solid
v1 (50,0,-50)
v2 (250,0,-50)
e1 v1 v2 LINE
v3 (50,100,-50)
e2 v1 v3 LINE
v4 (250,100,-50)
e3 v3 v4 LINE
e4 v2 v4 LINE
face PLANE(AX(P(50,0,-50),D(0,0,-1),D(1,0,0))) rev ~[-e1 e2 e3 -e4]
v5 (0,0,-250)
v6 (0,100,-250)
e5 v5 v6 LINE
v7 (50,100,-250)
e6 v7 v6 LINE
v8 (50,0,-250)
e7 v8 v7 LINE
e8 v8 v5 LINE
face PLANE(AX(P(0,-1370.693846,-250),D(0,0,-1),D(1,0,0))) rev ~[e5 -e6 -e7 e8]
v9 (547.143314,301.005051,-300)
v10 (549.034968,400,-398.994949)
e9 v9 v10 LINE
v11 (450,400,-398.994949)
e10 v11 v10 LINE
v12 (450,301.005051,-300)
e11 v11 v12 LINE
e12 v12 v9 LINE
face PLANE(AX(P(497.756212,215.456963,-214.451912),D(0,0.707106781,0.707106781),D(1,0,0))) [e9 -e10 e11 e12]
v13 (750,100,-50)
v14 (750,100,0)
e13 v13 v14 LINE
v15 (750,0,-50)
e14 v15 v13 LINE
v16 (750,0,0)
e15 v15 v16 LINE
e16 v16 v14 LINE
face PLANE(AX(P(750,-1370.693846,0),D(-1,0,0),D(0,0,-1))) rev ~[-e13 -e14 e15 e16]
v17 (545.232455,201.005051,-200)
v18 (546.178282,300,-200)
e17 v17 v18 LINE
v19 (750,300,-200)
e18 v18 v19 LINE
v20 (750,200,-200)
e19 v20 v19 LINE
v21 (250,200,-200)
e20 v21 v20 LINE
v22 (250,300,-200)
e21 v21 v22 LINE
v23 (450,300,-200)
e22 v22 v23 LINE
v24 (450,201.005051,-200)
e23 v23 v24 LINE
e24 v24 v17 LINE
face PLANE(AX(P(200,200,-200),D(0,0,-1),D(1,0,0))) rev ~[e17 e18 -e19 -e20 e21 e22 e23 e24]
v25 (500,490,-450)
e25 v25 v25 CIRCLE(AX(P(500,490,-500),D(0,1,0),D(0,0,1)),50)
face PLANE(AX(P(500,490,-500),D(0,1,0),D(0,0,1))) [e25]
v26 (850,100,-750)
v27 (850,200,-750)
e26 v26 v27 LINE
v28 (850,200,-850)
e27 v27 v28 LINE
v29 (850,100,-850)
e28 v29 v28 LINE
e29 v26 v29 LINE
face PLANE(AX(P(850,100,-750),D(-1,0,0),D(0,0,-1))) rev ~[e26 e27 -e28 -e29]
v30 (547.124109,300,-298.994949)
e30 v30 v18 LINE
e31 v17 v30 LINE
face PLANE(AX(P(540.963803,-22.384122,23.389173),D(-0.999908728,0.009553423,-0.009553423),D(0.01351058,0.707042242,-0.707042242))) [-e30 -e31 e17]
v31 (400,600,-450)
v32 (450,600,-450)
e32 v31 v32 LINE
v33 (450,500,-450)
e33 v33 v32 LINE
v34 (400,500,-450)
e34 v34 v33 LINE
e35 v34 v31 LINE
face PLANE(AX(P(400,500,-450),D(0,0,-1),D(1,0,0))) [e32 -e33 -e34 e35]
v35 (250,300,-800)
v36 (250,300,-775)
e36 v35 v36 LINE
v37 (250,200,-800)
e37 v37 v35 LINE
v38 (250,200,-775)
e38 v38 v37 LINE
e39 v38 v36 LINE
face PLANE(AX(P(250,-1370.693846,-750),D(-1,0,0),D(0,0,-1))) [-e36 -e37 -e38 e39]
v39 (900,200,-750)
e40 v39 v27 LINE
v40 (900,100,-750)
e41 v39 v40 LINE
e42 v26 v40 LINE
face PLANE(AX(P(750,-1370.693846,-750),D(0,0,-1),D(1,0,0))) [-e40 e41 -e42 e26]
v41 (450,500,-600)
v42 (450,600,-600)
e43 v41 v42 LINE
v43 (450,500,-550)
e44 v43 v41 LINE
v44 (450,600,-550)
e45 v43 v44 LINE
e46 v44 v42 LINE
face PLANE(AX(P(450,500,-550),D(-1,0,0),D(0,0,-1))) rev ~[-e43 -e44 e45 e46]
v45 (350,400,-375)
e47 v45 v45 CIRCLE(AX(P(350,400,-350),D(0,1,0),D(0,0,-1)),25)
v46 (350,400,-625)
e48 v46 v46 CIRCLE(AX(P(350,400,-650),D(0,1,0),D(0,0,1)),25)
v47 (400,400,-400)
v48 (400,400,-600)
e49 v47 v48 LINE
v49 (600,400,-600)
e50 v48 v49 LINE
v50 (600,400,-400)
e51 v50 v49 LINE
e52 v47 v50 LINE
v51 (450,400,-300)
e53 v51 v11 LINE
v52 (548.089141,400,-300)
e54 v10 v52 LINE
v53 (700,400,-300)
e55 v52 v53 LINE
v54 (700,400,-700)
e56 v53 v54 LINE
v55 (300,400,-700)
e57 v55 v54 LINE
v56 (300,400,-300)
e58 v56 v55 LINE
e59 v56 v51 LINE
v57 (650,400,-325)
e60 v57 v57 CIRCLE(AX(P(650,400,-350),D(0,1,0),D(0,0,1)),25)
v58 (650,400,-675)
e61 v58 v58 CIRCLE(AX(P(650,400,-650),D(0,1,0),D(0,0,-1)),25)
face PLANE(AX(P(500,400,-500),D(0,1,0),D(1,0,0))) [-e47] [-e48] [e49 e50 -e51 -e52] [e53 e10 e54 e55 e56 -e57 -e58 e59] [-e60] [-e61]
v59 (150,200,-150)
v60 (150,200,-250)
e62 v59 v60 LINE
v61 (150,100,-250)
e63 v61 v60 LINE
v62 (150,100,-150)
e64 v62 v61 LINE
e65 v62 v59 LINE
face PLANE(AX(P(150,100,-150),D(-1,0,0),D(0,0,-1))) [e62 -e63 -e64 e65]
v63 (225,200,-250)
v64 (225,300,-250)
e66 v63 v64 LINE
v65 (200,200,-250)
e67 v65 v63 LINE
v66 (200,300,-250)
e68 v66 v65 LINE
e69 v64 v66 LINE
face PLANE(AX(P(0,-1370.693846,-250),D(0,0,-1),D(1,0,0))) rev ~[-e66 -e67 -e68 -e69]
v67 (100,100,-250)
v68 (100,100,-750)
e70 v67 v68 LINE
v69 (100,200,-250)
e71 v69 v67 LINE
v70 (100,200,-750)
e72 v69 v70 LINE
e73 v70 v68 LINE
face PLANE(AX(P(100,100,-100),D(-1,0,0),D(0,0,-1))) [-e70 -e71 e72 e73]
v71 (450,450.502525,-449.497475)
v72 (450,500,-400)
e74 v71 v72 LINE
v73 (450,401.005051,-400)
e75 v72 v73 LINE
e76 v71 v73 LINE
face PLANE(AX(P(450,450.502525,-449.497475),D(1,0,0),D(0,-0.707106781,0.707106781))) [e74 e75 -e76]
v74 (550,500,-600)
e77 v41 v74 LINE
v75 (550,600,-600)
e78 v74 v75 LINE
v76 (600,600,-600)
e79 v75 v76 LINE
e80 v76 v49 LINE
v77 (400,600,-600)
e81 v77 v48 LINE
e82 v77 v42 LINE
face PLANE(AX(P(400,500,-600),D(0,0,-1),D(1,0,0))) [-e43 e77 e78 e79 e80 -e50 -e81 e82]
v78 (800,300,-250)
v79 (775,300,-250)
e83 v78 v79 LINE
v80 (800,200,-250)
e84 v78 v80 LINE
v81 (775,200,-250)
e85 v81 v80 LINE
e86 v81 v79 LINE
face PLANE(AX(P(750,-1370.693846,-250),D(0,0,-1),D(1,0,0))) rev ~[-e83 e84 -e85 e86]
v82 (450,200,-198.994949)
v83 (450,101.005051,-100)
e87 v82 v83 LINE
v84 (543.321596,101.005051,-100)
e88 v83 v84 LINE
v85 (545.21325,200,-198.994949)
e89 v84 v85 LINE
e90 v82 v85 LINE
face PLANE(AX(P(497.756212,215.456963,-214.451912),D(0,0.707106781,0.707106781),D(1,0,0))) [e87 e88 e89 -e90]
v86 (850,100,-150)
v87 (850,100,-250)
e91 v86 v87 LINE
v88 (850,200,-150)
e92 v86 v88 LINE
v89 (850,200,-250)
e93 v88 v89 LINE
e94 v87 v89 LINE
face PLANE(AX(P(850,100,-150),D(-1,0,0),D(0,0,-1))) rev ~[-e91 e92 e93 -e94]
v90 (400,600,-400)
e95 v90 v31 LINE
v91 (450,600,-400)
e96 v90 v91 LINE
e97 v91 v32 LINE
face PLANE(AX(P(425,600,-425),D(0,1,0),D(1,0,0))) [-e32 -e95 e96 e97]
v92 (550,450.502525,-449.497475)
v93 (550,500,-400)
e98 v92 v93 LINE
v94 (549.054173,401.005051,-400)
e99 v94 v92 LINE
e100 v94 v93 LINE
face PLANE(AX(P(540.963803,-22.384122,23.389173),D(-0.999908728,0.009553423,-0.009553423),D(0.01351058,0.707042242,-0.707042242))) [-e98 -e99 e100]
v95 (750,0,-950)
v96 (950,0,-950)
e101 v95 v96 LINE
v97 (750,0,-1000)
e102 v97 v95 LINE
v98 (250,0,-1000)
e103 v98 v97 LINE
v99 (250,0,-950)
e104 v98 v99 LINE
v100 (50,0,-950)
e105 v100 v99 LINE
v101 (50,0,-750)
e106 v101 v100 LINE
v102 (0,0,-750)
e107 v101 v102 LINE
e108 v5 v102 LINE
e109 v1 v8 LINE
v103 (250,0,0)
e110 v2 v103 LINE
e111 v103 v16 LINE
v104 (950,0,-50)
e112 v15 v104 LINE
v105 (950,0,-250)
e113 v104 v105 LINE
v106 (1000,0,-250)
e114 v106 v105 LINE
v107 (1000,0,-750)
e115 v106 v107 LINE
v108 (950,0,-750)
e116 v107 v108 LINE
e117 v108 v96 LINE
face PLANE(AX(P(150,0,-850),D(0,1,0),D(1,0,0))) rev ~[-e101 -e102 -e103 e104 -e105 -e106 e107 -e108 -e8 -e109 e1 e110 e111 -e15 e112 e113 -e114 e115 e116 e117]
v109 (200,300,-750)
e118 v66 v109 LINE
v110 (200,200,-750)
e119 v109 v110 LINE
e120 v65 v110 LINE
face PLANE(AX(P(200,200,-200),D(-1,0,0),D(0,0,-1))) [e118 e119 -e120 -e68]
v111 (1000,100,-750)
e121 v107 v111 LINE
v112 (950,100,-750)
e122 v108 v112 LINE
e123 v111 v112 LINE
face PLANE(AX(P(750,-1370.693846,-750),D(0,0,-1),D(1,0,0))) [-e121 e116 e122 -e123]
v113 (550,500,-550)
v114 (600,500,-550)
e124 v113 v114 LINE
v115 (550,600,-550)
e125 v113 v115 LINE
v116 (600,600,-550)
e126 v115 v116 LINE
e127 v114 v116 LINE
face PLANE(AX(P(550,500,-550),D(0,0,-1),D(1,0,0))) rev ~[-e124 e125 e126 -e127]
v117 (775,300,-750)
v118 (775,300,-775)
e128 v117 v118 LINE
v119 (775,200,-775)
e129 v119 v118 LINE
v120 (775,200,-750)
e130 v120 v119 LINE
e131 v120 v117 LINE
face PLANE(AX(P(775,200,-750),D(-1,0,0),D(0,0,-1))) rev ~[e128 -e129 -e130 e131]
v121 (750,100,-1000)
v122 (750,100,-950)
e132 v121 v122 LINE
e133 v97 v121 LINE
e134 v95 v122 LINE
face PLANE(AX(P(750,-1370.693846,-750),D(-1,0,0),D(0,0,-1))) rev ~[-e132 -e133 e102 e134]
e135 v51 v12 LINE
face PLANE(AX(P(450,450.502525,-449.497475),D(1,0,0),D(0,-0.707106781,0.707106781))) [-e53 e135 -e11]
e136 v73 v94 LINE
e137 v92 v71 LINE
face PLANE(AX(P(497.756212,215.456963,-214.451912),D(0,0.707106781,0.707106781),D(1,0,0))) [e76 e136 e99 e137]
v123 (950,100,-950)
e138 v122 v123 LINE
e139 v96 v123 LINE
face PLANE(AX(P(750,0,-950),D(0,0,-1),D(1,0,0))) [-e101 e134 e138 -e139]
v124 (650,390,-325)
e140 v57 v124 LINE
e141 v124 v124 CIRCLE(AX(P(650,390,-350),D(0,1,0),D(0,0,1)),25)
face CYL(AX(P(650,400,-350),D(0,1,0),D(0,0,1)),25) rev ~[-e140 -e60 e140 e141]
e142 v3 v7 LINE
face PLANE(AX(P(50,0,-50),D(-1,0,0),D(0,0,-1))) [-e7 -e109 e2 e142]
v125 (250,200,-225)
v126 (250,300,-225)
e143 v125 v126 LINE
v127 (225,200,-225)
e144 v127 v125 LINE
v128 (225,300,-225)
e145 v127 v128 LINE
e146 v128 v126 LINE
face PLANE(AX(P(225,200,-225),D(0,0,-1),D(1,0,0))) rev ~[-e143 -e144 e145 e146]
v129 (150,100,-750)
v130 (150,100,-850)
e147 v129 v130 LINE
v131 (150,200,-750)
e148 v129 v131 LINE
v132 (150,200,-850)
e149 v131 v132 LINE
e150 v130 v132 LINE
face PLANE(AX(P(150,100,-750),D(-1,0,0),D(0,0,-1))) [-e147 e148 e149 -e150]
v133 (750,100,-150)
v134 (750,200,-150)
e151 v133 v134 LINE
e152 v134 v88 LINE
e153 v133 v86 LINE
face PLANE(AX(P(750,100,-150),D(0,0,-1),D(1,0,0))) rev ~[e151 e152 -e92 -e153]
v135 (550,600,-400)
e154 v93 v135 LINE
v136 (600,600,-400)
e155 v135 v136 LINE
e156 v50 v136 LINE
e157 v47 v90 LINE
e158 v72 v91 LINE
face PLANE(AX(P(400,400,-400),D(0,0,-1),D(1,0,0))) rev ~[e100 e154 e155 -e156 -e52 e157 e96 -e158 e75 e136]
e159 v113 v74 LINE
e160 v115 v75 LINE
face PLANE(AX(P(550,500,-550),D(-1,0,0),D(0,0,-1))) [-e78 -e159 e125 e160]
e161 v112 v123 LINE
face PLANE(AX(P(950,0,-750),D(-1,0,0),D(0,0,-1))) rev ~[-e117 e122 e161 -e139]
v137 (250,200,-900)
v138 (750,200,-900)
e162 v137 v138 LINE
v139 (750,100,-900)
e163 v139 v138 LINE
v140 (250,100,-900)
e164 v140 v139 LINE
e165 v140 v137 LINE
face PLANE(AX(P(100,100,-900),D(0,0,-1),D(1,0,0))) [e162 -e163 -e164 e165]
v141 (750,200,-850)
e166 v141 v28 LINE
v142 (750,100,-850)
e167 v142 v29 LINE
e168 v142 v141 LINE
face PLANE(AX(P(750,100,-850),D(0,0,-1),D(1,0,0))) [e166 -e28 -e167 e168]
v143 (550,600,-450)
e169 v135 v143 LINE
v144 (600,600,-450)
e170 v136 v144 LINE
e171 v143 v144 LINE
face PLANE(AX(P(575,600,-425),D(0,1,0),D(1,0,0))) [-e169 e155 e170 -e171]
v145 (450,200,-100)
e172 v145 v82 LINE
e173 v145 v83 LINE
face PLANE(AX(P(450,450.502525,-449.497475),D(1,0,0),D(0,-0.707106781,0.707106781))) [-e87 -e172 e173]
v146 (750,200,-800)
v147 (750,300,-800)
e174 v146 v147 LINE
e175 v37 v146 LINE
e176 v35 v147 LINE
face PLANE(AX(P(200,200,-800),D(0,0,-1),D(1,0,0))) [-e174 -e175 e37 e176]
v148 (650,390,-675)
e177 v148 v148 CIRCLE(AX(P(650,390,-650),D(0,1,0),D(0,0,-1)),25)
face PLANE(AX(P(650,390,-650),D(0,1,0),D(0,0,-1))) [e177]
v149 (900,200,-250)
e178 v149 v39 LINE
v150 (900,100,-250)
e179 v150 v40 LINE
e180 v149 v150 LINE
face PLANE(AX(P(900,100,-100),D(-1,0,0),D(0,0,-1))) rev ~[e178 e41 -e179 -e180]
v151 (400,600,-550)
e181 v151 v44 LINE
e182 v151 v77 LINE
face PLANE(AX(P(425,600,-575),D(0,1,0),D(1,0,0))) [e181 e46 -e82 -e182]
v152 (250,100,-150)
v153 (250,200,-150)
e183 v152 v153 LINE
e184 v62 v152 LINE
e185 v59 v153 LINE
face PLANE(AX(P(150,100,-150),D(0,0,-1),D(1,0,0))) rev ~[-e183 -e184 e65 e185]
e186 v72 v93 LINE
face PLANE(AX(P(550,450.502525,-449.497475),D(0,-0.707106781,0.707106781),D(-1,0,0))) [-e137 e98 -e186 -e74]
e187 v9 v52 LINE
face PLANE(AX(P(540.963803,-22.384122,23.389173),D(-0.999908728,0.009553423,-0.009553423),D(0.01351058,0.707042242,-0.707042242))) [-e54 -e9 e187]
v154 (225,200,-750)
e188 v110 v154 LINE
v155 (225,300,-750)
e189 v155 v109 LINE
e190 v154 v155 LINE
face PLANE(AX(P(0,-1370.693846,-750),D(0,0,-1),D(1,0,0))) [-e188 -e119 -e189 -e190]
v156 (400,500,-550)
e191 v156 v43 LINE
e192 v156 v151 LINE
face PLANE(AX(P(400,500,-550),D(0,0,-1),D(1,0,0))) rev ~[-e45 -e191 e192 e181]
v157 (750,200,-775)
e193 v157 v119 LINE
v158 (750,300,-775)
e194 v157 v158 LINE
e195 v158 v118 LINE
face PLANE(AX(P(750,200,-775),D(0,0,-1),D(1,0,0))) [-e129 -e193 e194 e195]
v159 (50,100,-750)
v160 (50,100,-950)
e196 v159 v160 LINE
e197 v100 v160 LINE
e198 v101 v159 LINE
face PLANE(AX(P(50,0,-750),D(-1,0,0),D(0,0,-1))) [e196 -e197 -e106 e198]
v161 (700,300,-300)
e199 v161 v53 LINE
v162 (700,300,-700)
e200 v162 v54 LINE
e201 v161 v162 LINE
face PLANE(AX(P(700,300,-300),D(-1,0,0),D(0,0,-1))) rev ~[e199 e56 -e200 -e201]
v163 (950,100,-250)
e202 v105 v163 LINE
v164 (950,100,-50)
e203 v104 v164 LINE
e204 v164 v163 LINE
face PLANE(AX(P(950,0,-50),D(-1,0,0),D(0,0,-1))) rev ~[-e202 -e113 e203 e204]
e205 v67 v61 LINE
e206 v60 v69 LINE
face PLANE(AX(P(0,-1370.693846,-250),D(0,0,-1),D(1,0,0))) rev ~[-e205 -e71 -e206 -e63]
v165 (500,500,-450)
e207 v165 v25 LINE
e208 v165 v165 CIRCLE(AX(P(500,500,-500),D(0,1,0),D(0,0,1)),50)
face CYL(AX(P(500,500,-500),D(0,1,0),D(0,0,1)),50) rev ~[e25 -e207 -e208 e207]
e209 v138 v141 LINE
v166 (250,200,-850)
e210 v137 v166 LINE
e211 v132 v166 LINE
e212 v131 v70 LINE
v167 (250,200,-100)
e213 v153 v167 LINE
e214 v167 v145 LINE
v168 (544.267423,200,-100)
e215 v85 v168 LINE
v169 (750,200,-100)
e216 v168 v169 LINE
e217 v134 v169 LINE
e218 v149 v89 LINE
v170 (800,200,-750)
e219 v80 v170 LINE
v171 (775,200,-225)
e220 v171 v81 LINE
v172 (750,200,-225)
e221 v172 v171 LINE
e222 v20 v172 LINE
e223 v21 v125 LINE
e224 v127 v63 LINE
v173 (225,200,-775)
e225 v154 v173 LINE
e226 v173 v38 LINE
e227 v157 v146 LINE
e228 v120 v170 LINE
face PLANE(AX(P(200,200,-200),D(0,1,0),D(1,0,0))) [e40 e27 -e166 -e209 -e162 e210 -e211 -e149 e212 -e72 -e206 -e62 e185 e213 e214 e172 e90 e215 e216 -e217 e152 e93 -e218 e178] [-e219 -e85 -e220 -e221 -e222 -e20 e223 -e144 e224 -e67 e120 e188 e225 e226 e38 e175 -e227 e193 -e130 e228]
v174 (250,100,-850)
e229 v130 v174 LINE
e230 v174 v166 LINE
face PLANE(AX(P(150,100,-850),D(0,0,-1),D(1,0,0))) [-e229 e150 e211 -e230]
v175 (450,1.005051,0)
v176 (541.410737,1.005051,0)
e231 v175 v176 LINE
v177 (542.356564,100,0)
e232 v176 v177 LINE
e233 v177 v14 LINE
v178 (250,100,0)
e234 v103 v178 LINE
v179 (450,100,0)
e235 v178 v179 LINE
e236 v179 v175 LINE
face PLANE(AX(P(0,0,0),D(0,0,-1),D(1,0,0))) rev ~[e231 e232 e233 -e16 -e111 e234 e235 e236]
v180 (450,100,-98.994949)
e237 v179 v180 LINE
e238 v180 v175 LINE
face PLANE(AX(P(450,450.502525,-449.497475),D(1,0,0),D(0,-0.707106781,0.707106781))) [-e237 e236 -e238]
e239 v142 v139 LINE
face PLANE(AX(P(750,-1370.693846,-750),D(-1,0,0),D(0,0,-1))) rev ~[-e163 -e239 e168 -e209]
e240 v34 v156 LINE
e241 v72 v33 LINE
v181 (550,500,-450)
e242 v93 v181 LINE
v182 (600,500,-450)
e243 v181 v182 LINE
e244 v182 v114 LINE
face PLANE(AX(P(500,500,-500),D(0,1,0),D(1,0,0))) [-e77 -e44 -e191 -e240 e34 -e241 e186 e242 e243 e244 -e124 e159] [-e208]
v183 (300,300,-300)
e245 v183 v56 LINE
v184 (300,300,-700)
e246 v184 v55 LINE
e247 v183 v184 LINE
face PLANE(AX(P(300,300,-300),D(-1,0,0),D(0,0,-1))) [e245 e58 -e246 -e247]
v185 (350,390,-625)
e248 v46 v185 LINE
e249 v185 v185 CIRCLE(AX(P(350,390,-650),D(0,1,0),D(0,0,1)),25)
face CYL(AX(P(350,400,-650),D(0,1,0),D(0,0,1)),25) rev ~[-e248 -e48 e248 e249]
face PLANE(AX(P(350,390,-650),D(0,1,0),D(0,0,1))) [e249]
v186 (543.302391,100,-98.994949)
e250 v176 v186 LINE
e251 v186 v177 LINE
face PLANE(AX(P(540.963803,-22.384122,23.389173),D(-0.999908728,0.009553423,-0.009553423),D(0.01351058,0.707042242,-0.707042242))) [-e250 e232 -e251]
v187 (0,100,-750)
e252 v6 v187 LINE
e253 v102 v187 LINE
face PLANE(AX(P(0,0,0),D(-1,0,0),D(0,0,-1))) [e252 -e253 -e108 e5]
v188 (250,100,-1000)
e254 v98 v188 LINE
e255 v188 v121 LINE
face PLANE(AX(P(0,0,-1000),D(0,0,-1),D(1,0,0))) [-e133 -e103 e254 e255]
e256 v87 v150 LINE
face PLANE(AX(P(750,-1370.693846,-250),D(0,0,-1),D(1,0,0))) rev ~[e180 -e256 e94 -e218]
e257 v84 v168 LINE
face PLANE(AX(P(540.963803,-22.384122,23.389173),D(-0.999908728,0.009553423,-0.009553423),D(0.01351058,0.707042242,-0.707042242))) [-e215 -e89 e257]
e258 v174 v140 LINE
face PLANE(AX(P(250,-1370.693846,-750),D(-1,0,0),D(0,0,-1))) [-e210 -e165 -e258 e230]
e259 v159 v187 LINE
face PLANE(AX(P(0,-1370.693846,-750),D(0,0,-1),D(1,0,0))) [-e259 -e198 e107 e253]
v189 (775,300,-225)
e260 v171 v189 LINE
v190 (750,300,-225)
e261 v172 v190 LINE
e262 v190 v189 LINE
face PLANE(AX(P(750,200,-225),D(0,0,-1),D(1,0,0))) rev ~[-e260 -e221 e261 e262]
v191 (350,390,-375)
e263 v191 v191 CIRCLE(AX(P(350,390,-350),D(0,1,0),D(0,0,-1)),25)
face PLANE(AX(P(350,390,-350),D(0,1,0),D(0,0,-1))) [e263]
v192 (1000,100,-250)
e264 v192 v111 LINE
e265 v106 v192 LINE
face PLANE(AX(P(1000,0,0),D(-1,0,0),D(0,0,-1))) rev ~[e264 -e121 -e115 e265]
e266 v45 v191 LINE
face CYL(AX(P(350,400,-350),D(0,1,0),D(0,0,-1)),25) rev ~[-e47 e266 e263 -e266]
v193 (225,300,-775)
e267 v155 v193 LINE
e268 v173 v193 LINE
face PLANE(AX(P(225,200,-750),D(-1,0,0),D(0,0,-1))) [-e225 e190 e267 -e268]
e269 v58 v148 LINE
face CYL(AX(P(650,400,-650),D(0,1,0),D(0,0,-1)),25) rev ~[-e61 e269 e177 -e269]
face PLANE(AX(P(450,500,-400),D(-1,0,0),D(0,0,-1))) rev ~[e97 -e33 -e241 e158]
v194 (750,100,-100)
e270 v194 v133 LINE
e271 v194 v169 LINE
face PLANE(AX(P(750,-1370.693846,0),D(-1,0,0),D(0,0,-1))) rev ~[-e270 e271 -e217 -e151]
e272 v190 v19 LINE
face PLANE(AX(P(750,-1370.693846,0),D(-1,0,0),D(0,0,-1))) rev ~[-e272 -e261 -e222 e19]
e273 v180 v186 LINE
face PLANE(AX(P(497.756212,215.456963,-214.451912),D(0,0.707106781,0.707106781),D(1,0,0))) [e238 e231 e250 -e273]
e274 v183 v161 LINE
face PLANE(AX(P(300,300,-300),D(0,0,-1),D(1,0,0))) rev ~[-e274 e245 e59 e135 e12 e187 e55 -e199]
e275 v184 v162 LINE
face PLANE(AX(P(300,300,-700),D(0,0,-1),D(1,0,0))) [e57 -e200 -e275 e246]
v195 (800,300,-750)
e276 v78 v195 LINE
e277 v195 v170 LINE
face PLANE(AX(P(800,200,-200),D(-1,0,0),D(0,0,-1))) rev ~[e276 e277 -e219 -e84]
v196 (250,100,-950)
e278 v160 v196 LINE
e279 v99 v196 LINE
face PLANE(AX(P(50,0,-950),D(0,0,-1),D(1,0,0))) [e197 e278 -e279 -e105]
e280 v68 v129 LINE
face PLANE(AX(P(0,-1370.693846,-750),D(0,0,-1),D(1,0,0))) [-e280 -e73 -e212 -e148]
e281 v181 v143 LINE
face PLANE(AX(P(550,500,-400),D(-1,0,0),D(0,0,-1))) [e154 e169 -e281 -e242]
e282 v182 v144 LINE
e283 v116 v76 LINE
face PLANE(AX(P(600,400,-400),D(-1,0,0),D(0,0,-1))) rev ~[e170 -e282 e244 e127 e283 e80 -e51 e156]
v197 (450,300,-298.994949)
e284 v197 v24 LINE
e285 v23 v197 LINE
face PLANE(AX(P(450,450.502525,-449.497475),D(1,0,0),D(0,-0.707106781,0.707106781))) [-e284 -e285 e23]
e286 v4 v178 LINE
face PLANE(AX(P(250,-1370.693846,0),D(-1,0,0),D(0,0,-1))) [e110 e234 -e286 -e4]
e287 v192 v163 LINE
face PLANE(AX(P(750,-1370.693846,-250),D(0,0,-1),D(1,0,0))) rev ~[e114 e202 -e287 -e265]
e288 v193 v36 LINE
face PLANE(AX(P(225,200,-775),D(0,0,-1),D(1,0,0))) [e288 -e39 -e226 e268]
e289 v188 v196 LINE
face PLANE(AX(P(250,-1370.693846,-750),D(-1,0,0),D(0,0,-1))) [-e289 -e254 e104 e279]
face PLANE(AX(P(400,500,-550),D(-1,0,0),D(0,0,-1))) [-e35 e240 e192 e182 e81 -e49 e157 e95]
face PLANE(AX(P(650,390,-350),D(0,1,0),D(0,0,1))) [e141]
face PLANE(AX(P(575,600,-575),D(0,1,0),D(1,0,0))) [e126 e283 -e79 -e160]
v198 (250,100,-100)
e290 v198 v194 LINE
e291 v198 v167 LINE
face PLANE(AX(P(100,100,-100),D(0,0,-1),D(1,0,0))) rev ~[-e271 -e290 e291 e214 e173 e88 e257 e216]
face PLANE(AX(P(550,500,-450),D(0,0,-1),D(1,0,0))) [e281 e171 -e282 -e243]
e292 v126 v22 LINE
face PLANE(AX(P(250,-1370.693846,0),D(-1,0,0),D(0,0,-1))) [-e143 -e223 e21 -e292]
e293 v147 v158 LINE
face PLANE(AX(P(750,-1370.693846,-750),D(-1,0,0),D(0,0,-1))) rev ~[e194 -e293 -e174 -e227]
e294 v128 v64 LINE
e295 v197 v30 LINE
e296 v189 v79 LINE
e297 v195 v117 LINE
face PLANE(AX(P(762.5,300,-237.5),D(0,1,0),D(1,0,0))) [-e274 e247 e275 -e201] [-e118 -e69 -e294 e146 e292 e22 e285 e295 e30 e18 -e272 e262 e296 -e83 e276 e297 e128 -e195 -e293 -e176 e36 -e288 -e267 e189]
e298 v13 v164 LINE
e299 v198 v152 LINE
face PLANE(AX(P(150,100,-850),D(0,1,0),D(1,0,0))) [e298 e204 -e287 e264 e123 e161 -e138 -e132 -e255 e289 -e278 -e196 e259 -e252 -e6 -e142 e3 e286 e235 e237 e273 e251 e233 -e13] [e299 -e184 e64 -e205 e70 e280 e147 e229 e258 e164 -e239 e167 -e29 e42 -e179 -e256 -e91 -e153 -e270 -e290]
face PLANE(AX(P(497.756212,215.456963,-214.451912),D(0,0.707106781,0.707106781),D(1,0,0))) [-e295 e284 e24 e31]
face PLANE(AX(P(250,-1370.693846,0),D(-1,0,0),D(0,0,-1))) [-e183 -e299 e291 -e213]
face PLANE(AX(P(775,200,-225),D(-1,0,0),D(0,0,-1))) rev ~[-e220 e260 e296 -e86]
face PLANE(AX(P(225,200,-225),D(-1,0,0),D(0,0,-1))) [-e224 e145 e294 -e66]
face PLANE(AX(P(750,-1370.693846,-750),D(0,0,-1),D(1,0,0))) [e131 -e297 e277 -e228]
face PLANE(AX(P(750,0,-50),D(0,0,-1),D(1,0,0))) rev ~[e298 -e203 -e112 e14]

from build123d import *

# Parameters (mm, degrees)
SKETCH2_W               = 1000
SKETCH2_H               = 1000
BOSS_EXTRUDE1_DEPTH     = 100
SKETCH3_W               = 800
SKETCH3_H               = 800
BOSS_EXTRUDE2_DEPTH     = 100
SKETCH4_W               = 600
SKETCH4_H               = 600
BOSS_EXTRUDE3_DEPTH     = 100
SKETCH5_W               = 400
SKETCH5_H               = 400
BOSS_EXTRUDE4_DEPTH     = 100
SKETCH6_W               = 200
SKETCH6_H               = 200
BOSS_EXTRUDE5_DEPTH     = 100
CUT_EXTRUDE2_DEPTH      = 1470.69384567
CUT_EXTRUDE2_DEPTH_BACK = 1470.69384567
SKETCH8_W               = 250
SKETCH8_H               = 250
CUT_EXTRUDE3_DEPTH      = 1519.222645069
CUT_EXTRUDE3_DEPTH_BACK = 70
SKETCH17_W              = 200
SKETCH17_H              = 200
BOSS_EXTRUDE6_DEPTH     = 100
SKETCH18_W              = 100
SKETCH18_H              = 100
BOSS_EXTRUDE7_DEPTH     = 100
SKETCH19_W              = 25
SKETCH19_H              = 25
BOSS_EXTRUDE8_DEPTH     = 100
SKETCH20_W              = 50
SKETCH20_H              = 50
BOSS_EXTRUDE9_DEPTH     = 100
SKETCH21_R              = 50
CUT_EXTRUDE4_DEPTH      = 10
SKETCH22_R              = 25
CUT_EXTRUDE5_DEPTH      = 10


with BuildPart() as part:
    # Sketch2 → Boss-Extrude1 (new body)
    with BuildSketch(Plane(origin=(0, 0, 0), x_dir=(1, 0, 0), z_dir=(0, 1, 0))):
        with Locations((500, 500)):
            Rectangle(SKETCH2_W, SKETCH2_H)
    extrude(amount=BOSS_EXTRUDE1_DEPTH)

    # Sketch3 → Boss-Extrude2 (add)
    with BuildSketch(Plane(origin=(0, 100, 0), x_dir=(1, 0, 0), z_dir=(0, 1, 0))):
        with Locations((500, 500)):
            Rectangle(SKETCH3_W, SKETCH3_H)
    extrude(amount=BOSS_EXTRUDE2_DEPTH)

    # Sketch4 → Boss-Extrude3 (add)
    with BuildSketch(Plane(origin=(0, 200, 0), x_dir=(1, 0, 0), z_dir=(0, 1, 0))):
        with Locations((500, 500)):
            Rectangle(SKETCH4_W, SKETCH4_H)
    extrude(amount=BOSS_EXTRUDE3_DEPTH)

    # Sketch5 → Boss-Extrude4 (add)
    with BuildSketch(Plane(origin=(0, 300, 0), x_dir=(1, 0, 0), z_dir=(0, 1, 0))):
        with Locations((500, 500)):
            Rectangle(SKETCH5_W, SKETCH5_H)
    extrude(amount=BOSS_EXTRUDE4_DEPTH)

    # Sketch6 → Boss-Extrude5 (add)
    with BuildSketch(Plane(origin=(0, 400, 0), x_dir=(1, 0, 0), z_dir=(0, 1, 0))):
        with Locations((500, 500)):
            Rectangle(SKETCH6_W, SKETCH6_H)
    extrude(amount=BOSS_EXTRUDE5_DEPTH)

    # Sketch8 → Cut-Extrude2 (cut, two sides: drawn at the far end of the back side and taken through both)
    with BuildSketch(Plane(origin=(0, 100, 0), x_dir=(1, 0, 0), z_dir=(0, 1, 0)).offset(-CUT_EXTRUDE2_DEPTH_BACK)):
        with Locations((125, 125)):
            Rectangle(SKETCH8_W, SKETCH8_H)
        with Locations((875, 125)):
            Rectangle(SKETCH8_W, SKETCH8_H)
        with Locations((875, 875)):
            Rectangle(SKETCH8_W, SKETCH8_H)
        with Locations((125, 875)):
            Rectangle(SKETCH8_W, SKETCH8_H)
    extrude(amount=CUT_EXTRUDE2_DEPTH + CUT_EXTRUDE2_DEPTH_BACK, mode=Mode.SUBTRACT)

    # Sketch16 → Cut-Extrude3 (cut, two sides: drawn at the far end of the back side and taken through both)
    with BuildSketch(Plane(origin=(0, 50, 50), x_dir=(1, 0, 0), z_dir=(0, 0.7071067811865477, 0.7071067811865475)).offset(-CUT_EXTRUDE3_DEPTH_BACK)):
        Polygon((450, 636.396103068), (450, -32.366607249), (540.963803132, -32.366607249), (550, 636.396103068), align=None)
    extrude(amount=CUT_EXTRUDE3_DEPTH + CUT_EXTRUDE3_DEPTH_BACK, mode=Mode.SUBTRACT)

    # Sketch17 → Boss-Extrude6 (add)
    with BuildSketch(Plane(origin=(0, 0, 0), x_dir=(1, 0, 0), z_dir=(0, 1, 0))):
        with Locations((150, 850)):
            Rectangle(SKETCH17_W, SKETCH17_H)
        with Locations((850, 850)):
            Rectangle(SKETCH17_W, SKETCH17_H)
        with Locations((850, 150)):
            Rectangle(SKETCH17_W, SKETCH17_H)
        with Locations((150, 150)):
            Rectangle(SKETCH17_W, SKETCH17_H)
    extrude(amount=BOSS_EXTRUDE6_DEPTH)

    # Sketch18 → Boss-Extrude7 (add)
    with BuildSketch(Plane(origin=(0, 100, 0), x_dir=(1, 0, 0), z_dir=(0, 1, 0))):
        with Locations((200, 200)):
            Rectangle(SKETCH18_W, SKETCH18_H)
        with Locations((800, 200)):
            Rectangle(SKETCH18_W, SKETCH18_H)
        with Locations((800, 800)):
            Rectangle(SKETCH18_W, SKETCH18_H)
        with Locations((200, 800)):
            Rectangle(SKETCH18_W, SKETCH18_H)
    extrude(amount=BOSS_EXTRUDE7_DEPTH)

    # Sketch19 → Boss-Extrude8 (add)
    with BuildSketch(Plane(origin=(0, 200, 0), x_dir=(1, 0, 0), z_dir=(0, 1, 0))):
        with Locations((762.5, 237.5)):
            Rectangle(SKETCH19_W, SKETCH19_H)
        with Locations((762.5, 762.5)):
            Rectangle(SKETCH19_W, SKETCH19_H)
        with Locations((237.5, 762.5)):
            Rectangle(SKETCH19_W, SKETCH19_H)
        with Locations((237.5, 237.5)):
            Rectangle(SKETCH19_W, SKETCH19_H)
    extrude(amount=BOSS_EXTRUDE8_DEPTH)

    # Sketch20 → Boss-Extrude9 (add)
    with BuildSketch(Plane(origin=(0, 500, 0), x_dir=(1, 0, 0), z_dir=(0, 1, 0))):
        with Locations((425, 575)):
            Rectangle(SKETCH20_W, SKETCH20_H)
        with Locations((425, 425)):
            Rectangle(SKETCH20_W, SKETCH20_H)
        with Locations((575, 425)):
            Rectangle(SKETCH20_W, SKETCH20_H)
        with Locations((575, 575)):
            Rectangle(SKETCH20_W, SKETCH20_H)
    extrude(amount=BOSS_EXTRUDE9_DEPTH)

    # Sketch21 → Cut-Extrude4 (cut)
    with BuildSketch(Plane(origin=(0, 500, 0), x_dir=(1, 0, 0), z_dir=(0, 1, 0))):
        with Locations(Location((500, 500, 0), (0, 0, 270))):
            Circle(SKETCH21_R)
    extrude(amount=-CUT_EXTRUDE4_DEPTH, mode=Mode.SUBTRACT)

    # Sketch22 → Cut-Extrude5 (cut)
    with BuildSketch(Plane(origin=(0, 400, 0), x_dir=(1, 0, 0), z_dir=(0, 1, 0))):
        with Locations(Location((350, 650, 0), (0, 0, 270))):
            Circle(SKETCH22_R)
        with Locations(Location((650, 650, 0), (0, 0, 90))):
            Circle(SKETCH22_R)
        with Locations(Location((650, 350, 0), (0, 0, 270))):
            Circle(SKETCH22_R)
        with Locations(Location((350, 350, 0), (0, 0, 90))):
            Circle(SKETCH22_R)
    extrude(amount=-CUT_EXTRUDE5_DEPTH, mode=Mode.SUBTRACT)


solid = part.part
